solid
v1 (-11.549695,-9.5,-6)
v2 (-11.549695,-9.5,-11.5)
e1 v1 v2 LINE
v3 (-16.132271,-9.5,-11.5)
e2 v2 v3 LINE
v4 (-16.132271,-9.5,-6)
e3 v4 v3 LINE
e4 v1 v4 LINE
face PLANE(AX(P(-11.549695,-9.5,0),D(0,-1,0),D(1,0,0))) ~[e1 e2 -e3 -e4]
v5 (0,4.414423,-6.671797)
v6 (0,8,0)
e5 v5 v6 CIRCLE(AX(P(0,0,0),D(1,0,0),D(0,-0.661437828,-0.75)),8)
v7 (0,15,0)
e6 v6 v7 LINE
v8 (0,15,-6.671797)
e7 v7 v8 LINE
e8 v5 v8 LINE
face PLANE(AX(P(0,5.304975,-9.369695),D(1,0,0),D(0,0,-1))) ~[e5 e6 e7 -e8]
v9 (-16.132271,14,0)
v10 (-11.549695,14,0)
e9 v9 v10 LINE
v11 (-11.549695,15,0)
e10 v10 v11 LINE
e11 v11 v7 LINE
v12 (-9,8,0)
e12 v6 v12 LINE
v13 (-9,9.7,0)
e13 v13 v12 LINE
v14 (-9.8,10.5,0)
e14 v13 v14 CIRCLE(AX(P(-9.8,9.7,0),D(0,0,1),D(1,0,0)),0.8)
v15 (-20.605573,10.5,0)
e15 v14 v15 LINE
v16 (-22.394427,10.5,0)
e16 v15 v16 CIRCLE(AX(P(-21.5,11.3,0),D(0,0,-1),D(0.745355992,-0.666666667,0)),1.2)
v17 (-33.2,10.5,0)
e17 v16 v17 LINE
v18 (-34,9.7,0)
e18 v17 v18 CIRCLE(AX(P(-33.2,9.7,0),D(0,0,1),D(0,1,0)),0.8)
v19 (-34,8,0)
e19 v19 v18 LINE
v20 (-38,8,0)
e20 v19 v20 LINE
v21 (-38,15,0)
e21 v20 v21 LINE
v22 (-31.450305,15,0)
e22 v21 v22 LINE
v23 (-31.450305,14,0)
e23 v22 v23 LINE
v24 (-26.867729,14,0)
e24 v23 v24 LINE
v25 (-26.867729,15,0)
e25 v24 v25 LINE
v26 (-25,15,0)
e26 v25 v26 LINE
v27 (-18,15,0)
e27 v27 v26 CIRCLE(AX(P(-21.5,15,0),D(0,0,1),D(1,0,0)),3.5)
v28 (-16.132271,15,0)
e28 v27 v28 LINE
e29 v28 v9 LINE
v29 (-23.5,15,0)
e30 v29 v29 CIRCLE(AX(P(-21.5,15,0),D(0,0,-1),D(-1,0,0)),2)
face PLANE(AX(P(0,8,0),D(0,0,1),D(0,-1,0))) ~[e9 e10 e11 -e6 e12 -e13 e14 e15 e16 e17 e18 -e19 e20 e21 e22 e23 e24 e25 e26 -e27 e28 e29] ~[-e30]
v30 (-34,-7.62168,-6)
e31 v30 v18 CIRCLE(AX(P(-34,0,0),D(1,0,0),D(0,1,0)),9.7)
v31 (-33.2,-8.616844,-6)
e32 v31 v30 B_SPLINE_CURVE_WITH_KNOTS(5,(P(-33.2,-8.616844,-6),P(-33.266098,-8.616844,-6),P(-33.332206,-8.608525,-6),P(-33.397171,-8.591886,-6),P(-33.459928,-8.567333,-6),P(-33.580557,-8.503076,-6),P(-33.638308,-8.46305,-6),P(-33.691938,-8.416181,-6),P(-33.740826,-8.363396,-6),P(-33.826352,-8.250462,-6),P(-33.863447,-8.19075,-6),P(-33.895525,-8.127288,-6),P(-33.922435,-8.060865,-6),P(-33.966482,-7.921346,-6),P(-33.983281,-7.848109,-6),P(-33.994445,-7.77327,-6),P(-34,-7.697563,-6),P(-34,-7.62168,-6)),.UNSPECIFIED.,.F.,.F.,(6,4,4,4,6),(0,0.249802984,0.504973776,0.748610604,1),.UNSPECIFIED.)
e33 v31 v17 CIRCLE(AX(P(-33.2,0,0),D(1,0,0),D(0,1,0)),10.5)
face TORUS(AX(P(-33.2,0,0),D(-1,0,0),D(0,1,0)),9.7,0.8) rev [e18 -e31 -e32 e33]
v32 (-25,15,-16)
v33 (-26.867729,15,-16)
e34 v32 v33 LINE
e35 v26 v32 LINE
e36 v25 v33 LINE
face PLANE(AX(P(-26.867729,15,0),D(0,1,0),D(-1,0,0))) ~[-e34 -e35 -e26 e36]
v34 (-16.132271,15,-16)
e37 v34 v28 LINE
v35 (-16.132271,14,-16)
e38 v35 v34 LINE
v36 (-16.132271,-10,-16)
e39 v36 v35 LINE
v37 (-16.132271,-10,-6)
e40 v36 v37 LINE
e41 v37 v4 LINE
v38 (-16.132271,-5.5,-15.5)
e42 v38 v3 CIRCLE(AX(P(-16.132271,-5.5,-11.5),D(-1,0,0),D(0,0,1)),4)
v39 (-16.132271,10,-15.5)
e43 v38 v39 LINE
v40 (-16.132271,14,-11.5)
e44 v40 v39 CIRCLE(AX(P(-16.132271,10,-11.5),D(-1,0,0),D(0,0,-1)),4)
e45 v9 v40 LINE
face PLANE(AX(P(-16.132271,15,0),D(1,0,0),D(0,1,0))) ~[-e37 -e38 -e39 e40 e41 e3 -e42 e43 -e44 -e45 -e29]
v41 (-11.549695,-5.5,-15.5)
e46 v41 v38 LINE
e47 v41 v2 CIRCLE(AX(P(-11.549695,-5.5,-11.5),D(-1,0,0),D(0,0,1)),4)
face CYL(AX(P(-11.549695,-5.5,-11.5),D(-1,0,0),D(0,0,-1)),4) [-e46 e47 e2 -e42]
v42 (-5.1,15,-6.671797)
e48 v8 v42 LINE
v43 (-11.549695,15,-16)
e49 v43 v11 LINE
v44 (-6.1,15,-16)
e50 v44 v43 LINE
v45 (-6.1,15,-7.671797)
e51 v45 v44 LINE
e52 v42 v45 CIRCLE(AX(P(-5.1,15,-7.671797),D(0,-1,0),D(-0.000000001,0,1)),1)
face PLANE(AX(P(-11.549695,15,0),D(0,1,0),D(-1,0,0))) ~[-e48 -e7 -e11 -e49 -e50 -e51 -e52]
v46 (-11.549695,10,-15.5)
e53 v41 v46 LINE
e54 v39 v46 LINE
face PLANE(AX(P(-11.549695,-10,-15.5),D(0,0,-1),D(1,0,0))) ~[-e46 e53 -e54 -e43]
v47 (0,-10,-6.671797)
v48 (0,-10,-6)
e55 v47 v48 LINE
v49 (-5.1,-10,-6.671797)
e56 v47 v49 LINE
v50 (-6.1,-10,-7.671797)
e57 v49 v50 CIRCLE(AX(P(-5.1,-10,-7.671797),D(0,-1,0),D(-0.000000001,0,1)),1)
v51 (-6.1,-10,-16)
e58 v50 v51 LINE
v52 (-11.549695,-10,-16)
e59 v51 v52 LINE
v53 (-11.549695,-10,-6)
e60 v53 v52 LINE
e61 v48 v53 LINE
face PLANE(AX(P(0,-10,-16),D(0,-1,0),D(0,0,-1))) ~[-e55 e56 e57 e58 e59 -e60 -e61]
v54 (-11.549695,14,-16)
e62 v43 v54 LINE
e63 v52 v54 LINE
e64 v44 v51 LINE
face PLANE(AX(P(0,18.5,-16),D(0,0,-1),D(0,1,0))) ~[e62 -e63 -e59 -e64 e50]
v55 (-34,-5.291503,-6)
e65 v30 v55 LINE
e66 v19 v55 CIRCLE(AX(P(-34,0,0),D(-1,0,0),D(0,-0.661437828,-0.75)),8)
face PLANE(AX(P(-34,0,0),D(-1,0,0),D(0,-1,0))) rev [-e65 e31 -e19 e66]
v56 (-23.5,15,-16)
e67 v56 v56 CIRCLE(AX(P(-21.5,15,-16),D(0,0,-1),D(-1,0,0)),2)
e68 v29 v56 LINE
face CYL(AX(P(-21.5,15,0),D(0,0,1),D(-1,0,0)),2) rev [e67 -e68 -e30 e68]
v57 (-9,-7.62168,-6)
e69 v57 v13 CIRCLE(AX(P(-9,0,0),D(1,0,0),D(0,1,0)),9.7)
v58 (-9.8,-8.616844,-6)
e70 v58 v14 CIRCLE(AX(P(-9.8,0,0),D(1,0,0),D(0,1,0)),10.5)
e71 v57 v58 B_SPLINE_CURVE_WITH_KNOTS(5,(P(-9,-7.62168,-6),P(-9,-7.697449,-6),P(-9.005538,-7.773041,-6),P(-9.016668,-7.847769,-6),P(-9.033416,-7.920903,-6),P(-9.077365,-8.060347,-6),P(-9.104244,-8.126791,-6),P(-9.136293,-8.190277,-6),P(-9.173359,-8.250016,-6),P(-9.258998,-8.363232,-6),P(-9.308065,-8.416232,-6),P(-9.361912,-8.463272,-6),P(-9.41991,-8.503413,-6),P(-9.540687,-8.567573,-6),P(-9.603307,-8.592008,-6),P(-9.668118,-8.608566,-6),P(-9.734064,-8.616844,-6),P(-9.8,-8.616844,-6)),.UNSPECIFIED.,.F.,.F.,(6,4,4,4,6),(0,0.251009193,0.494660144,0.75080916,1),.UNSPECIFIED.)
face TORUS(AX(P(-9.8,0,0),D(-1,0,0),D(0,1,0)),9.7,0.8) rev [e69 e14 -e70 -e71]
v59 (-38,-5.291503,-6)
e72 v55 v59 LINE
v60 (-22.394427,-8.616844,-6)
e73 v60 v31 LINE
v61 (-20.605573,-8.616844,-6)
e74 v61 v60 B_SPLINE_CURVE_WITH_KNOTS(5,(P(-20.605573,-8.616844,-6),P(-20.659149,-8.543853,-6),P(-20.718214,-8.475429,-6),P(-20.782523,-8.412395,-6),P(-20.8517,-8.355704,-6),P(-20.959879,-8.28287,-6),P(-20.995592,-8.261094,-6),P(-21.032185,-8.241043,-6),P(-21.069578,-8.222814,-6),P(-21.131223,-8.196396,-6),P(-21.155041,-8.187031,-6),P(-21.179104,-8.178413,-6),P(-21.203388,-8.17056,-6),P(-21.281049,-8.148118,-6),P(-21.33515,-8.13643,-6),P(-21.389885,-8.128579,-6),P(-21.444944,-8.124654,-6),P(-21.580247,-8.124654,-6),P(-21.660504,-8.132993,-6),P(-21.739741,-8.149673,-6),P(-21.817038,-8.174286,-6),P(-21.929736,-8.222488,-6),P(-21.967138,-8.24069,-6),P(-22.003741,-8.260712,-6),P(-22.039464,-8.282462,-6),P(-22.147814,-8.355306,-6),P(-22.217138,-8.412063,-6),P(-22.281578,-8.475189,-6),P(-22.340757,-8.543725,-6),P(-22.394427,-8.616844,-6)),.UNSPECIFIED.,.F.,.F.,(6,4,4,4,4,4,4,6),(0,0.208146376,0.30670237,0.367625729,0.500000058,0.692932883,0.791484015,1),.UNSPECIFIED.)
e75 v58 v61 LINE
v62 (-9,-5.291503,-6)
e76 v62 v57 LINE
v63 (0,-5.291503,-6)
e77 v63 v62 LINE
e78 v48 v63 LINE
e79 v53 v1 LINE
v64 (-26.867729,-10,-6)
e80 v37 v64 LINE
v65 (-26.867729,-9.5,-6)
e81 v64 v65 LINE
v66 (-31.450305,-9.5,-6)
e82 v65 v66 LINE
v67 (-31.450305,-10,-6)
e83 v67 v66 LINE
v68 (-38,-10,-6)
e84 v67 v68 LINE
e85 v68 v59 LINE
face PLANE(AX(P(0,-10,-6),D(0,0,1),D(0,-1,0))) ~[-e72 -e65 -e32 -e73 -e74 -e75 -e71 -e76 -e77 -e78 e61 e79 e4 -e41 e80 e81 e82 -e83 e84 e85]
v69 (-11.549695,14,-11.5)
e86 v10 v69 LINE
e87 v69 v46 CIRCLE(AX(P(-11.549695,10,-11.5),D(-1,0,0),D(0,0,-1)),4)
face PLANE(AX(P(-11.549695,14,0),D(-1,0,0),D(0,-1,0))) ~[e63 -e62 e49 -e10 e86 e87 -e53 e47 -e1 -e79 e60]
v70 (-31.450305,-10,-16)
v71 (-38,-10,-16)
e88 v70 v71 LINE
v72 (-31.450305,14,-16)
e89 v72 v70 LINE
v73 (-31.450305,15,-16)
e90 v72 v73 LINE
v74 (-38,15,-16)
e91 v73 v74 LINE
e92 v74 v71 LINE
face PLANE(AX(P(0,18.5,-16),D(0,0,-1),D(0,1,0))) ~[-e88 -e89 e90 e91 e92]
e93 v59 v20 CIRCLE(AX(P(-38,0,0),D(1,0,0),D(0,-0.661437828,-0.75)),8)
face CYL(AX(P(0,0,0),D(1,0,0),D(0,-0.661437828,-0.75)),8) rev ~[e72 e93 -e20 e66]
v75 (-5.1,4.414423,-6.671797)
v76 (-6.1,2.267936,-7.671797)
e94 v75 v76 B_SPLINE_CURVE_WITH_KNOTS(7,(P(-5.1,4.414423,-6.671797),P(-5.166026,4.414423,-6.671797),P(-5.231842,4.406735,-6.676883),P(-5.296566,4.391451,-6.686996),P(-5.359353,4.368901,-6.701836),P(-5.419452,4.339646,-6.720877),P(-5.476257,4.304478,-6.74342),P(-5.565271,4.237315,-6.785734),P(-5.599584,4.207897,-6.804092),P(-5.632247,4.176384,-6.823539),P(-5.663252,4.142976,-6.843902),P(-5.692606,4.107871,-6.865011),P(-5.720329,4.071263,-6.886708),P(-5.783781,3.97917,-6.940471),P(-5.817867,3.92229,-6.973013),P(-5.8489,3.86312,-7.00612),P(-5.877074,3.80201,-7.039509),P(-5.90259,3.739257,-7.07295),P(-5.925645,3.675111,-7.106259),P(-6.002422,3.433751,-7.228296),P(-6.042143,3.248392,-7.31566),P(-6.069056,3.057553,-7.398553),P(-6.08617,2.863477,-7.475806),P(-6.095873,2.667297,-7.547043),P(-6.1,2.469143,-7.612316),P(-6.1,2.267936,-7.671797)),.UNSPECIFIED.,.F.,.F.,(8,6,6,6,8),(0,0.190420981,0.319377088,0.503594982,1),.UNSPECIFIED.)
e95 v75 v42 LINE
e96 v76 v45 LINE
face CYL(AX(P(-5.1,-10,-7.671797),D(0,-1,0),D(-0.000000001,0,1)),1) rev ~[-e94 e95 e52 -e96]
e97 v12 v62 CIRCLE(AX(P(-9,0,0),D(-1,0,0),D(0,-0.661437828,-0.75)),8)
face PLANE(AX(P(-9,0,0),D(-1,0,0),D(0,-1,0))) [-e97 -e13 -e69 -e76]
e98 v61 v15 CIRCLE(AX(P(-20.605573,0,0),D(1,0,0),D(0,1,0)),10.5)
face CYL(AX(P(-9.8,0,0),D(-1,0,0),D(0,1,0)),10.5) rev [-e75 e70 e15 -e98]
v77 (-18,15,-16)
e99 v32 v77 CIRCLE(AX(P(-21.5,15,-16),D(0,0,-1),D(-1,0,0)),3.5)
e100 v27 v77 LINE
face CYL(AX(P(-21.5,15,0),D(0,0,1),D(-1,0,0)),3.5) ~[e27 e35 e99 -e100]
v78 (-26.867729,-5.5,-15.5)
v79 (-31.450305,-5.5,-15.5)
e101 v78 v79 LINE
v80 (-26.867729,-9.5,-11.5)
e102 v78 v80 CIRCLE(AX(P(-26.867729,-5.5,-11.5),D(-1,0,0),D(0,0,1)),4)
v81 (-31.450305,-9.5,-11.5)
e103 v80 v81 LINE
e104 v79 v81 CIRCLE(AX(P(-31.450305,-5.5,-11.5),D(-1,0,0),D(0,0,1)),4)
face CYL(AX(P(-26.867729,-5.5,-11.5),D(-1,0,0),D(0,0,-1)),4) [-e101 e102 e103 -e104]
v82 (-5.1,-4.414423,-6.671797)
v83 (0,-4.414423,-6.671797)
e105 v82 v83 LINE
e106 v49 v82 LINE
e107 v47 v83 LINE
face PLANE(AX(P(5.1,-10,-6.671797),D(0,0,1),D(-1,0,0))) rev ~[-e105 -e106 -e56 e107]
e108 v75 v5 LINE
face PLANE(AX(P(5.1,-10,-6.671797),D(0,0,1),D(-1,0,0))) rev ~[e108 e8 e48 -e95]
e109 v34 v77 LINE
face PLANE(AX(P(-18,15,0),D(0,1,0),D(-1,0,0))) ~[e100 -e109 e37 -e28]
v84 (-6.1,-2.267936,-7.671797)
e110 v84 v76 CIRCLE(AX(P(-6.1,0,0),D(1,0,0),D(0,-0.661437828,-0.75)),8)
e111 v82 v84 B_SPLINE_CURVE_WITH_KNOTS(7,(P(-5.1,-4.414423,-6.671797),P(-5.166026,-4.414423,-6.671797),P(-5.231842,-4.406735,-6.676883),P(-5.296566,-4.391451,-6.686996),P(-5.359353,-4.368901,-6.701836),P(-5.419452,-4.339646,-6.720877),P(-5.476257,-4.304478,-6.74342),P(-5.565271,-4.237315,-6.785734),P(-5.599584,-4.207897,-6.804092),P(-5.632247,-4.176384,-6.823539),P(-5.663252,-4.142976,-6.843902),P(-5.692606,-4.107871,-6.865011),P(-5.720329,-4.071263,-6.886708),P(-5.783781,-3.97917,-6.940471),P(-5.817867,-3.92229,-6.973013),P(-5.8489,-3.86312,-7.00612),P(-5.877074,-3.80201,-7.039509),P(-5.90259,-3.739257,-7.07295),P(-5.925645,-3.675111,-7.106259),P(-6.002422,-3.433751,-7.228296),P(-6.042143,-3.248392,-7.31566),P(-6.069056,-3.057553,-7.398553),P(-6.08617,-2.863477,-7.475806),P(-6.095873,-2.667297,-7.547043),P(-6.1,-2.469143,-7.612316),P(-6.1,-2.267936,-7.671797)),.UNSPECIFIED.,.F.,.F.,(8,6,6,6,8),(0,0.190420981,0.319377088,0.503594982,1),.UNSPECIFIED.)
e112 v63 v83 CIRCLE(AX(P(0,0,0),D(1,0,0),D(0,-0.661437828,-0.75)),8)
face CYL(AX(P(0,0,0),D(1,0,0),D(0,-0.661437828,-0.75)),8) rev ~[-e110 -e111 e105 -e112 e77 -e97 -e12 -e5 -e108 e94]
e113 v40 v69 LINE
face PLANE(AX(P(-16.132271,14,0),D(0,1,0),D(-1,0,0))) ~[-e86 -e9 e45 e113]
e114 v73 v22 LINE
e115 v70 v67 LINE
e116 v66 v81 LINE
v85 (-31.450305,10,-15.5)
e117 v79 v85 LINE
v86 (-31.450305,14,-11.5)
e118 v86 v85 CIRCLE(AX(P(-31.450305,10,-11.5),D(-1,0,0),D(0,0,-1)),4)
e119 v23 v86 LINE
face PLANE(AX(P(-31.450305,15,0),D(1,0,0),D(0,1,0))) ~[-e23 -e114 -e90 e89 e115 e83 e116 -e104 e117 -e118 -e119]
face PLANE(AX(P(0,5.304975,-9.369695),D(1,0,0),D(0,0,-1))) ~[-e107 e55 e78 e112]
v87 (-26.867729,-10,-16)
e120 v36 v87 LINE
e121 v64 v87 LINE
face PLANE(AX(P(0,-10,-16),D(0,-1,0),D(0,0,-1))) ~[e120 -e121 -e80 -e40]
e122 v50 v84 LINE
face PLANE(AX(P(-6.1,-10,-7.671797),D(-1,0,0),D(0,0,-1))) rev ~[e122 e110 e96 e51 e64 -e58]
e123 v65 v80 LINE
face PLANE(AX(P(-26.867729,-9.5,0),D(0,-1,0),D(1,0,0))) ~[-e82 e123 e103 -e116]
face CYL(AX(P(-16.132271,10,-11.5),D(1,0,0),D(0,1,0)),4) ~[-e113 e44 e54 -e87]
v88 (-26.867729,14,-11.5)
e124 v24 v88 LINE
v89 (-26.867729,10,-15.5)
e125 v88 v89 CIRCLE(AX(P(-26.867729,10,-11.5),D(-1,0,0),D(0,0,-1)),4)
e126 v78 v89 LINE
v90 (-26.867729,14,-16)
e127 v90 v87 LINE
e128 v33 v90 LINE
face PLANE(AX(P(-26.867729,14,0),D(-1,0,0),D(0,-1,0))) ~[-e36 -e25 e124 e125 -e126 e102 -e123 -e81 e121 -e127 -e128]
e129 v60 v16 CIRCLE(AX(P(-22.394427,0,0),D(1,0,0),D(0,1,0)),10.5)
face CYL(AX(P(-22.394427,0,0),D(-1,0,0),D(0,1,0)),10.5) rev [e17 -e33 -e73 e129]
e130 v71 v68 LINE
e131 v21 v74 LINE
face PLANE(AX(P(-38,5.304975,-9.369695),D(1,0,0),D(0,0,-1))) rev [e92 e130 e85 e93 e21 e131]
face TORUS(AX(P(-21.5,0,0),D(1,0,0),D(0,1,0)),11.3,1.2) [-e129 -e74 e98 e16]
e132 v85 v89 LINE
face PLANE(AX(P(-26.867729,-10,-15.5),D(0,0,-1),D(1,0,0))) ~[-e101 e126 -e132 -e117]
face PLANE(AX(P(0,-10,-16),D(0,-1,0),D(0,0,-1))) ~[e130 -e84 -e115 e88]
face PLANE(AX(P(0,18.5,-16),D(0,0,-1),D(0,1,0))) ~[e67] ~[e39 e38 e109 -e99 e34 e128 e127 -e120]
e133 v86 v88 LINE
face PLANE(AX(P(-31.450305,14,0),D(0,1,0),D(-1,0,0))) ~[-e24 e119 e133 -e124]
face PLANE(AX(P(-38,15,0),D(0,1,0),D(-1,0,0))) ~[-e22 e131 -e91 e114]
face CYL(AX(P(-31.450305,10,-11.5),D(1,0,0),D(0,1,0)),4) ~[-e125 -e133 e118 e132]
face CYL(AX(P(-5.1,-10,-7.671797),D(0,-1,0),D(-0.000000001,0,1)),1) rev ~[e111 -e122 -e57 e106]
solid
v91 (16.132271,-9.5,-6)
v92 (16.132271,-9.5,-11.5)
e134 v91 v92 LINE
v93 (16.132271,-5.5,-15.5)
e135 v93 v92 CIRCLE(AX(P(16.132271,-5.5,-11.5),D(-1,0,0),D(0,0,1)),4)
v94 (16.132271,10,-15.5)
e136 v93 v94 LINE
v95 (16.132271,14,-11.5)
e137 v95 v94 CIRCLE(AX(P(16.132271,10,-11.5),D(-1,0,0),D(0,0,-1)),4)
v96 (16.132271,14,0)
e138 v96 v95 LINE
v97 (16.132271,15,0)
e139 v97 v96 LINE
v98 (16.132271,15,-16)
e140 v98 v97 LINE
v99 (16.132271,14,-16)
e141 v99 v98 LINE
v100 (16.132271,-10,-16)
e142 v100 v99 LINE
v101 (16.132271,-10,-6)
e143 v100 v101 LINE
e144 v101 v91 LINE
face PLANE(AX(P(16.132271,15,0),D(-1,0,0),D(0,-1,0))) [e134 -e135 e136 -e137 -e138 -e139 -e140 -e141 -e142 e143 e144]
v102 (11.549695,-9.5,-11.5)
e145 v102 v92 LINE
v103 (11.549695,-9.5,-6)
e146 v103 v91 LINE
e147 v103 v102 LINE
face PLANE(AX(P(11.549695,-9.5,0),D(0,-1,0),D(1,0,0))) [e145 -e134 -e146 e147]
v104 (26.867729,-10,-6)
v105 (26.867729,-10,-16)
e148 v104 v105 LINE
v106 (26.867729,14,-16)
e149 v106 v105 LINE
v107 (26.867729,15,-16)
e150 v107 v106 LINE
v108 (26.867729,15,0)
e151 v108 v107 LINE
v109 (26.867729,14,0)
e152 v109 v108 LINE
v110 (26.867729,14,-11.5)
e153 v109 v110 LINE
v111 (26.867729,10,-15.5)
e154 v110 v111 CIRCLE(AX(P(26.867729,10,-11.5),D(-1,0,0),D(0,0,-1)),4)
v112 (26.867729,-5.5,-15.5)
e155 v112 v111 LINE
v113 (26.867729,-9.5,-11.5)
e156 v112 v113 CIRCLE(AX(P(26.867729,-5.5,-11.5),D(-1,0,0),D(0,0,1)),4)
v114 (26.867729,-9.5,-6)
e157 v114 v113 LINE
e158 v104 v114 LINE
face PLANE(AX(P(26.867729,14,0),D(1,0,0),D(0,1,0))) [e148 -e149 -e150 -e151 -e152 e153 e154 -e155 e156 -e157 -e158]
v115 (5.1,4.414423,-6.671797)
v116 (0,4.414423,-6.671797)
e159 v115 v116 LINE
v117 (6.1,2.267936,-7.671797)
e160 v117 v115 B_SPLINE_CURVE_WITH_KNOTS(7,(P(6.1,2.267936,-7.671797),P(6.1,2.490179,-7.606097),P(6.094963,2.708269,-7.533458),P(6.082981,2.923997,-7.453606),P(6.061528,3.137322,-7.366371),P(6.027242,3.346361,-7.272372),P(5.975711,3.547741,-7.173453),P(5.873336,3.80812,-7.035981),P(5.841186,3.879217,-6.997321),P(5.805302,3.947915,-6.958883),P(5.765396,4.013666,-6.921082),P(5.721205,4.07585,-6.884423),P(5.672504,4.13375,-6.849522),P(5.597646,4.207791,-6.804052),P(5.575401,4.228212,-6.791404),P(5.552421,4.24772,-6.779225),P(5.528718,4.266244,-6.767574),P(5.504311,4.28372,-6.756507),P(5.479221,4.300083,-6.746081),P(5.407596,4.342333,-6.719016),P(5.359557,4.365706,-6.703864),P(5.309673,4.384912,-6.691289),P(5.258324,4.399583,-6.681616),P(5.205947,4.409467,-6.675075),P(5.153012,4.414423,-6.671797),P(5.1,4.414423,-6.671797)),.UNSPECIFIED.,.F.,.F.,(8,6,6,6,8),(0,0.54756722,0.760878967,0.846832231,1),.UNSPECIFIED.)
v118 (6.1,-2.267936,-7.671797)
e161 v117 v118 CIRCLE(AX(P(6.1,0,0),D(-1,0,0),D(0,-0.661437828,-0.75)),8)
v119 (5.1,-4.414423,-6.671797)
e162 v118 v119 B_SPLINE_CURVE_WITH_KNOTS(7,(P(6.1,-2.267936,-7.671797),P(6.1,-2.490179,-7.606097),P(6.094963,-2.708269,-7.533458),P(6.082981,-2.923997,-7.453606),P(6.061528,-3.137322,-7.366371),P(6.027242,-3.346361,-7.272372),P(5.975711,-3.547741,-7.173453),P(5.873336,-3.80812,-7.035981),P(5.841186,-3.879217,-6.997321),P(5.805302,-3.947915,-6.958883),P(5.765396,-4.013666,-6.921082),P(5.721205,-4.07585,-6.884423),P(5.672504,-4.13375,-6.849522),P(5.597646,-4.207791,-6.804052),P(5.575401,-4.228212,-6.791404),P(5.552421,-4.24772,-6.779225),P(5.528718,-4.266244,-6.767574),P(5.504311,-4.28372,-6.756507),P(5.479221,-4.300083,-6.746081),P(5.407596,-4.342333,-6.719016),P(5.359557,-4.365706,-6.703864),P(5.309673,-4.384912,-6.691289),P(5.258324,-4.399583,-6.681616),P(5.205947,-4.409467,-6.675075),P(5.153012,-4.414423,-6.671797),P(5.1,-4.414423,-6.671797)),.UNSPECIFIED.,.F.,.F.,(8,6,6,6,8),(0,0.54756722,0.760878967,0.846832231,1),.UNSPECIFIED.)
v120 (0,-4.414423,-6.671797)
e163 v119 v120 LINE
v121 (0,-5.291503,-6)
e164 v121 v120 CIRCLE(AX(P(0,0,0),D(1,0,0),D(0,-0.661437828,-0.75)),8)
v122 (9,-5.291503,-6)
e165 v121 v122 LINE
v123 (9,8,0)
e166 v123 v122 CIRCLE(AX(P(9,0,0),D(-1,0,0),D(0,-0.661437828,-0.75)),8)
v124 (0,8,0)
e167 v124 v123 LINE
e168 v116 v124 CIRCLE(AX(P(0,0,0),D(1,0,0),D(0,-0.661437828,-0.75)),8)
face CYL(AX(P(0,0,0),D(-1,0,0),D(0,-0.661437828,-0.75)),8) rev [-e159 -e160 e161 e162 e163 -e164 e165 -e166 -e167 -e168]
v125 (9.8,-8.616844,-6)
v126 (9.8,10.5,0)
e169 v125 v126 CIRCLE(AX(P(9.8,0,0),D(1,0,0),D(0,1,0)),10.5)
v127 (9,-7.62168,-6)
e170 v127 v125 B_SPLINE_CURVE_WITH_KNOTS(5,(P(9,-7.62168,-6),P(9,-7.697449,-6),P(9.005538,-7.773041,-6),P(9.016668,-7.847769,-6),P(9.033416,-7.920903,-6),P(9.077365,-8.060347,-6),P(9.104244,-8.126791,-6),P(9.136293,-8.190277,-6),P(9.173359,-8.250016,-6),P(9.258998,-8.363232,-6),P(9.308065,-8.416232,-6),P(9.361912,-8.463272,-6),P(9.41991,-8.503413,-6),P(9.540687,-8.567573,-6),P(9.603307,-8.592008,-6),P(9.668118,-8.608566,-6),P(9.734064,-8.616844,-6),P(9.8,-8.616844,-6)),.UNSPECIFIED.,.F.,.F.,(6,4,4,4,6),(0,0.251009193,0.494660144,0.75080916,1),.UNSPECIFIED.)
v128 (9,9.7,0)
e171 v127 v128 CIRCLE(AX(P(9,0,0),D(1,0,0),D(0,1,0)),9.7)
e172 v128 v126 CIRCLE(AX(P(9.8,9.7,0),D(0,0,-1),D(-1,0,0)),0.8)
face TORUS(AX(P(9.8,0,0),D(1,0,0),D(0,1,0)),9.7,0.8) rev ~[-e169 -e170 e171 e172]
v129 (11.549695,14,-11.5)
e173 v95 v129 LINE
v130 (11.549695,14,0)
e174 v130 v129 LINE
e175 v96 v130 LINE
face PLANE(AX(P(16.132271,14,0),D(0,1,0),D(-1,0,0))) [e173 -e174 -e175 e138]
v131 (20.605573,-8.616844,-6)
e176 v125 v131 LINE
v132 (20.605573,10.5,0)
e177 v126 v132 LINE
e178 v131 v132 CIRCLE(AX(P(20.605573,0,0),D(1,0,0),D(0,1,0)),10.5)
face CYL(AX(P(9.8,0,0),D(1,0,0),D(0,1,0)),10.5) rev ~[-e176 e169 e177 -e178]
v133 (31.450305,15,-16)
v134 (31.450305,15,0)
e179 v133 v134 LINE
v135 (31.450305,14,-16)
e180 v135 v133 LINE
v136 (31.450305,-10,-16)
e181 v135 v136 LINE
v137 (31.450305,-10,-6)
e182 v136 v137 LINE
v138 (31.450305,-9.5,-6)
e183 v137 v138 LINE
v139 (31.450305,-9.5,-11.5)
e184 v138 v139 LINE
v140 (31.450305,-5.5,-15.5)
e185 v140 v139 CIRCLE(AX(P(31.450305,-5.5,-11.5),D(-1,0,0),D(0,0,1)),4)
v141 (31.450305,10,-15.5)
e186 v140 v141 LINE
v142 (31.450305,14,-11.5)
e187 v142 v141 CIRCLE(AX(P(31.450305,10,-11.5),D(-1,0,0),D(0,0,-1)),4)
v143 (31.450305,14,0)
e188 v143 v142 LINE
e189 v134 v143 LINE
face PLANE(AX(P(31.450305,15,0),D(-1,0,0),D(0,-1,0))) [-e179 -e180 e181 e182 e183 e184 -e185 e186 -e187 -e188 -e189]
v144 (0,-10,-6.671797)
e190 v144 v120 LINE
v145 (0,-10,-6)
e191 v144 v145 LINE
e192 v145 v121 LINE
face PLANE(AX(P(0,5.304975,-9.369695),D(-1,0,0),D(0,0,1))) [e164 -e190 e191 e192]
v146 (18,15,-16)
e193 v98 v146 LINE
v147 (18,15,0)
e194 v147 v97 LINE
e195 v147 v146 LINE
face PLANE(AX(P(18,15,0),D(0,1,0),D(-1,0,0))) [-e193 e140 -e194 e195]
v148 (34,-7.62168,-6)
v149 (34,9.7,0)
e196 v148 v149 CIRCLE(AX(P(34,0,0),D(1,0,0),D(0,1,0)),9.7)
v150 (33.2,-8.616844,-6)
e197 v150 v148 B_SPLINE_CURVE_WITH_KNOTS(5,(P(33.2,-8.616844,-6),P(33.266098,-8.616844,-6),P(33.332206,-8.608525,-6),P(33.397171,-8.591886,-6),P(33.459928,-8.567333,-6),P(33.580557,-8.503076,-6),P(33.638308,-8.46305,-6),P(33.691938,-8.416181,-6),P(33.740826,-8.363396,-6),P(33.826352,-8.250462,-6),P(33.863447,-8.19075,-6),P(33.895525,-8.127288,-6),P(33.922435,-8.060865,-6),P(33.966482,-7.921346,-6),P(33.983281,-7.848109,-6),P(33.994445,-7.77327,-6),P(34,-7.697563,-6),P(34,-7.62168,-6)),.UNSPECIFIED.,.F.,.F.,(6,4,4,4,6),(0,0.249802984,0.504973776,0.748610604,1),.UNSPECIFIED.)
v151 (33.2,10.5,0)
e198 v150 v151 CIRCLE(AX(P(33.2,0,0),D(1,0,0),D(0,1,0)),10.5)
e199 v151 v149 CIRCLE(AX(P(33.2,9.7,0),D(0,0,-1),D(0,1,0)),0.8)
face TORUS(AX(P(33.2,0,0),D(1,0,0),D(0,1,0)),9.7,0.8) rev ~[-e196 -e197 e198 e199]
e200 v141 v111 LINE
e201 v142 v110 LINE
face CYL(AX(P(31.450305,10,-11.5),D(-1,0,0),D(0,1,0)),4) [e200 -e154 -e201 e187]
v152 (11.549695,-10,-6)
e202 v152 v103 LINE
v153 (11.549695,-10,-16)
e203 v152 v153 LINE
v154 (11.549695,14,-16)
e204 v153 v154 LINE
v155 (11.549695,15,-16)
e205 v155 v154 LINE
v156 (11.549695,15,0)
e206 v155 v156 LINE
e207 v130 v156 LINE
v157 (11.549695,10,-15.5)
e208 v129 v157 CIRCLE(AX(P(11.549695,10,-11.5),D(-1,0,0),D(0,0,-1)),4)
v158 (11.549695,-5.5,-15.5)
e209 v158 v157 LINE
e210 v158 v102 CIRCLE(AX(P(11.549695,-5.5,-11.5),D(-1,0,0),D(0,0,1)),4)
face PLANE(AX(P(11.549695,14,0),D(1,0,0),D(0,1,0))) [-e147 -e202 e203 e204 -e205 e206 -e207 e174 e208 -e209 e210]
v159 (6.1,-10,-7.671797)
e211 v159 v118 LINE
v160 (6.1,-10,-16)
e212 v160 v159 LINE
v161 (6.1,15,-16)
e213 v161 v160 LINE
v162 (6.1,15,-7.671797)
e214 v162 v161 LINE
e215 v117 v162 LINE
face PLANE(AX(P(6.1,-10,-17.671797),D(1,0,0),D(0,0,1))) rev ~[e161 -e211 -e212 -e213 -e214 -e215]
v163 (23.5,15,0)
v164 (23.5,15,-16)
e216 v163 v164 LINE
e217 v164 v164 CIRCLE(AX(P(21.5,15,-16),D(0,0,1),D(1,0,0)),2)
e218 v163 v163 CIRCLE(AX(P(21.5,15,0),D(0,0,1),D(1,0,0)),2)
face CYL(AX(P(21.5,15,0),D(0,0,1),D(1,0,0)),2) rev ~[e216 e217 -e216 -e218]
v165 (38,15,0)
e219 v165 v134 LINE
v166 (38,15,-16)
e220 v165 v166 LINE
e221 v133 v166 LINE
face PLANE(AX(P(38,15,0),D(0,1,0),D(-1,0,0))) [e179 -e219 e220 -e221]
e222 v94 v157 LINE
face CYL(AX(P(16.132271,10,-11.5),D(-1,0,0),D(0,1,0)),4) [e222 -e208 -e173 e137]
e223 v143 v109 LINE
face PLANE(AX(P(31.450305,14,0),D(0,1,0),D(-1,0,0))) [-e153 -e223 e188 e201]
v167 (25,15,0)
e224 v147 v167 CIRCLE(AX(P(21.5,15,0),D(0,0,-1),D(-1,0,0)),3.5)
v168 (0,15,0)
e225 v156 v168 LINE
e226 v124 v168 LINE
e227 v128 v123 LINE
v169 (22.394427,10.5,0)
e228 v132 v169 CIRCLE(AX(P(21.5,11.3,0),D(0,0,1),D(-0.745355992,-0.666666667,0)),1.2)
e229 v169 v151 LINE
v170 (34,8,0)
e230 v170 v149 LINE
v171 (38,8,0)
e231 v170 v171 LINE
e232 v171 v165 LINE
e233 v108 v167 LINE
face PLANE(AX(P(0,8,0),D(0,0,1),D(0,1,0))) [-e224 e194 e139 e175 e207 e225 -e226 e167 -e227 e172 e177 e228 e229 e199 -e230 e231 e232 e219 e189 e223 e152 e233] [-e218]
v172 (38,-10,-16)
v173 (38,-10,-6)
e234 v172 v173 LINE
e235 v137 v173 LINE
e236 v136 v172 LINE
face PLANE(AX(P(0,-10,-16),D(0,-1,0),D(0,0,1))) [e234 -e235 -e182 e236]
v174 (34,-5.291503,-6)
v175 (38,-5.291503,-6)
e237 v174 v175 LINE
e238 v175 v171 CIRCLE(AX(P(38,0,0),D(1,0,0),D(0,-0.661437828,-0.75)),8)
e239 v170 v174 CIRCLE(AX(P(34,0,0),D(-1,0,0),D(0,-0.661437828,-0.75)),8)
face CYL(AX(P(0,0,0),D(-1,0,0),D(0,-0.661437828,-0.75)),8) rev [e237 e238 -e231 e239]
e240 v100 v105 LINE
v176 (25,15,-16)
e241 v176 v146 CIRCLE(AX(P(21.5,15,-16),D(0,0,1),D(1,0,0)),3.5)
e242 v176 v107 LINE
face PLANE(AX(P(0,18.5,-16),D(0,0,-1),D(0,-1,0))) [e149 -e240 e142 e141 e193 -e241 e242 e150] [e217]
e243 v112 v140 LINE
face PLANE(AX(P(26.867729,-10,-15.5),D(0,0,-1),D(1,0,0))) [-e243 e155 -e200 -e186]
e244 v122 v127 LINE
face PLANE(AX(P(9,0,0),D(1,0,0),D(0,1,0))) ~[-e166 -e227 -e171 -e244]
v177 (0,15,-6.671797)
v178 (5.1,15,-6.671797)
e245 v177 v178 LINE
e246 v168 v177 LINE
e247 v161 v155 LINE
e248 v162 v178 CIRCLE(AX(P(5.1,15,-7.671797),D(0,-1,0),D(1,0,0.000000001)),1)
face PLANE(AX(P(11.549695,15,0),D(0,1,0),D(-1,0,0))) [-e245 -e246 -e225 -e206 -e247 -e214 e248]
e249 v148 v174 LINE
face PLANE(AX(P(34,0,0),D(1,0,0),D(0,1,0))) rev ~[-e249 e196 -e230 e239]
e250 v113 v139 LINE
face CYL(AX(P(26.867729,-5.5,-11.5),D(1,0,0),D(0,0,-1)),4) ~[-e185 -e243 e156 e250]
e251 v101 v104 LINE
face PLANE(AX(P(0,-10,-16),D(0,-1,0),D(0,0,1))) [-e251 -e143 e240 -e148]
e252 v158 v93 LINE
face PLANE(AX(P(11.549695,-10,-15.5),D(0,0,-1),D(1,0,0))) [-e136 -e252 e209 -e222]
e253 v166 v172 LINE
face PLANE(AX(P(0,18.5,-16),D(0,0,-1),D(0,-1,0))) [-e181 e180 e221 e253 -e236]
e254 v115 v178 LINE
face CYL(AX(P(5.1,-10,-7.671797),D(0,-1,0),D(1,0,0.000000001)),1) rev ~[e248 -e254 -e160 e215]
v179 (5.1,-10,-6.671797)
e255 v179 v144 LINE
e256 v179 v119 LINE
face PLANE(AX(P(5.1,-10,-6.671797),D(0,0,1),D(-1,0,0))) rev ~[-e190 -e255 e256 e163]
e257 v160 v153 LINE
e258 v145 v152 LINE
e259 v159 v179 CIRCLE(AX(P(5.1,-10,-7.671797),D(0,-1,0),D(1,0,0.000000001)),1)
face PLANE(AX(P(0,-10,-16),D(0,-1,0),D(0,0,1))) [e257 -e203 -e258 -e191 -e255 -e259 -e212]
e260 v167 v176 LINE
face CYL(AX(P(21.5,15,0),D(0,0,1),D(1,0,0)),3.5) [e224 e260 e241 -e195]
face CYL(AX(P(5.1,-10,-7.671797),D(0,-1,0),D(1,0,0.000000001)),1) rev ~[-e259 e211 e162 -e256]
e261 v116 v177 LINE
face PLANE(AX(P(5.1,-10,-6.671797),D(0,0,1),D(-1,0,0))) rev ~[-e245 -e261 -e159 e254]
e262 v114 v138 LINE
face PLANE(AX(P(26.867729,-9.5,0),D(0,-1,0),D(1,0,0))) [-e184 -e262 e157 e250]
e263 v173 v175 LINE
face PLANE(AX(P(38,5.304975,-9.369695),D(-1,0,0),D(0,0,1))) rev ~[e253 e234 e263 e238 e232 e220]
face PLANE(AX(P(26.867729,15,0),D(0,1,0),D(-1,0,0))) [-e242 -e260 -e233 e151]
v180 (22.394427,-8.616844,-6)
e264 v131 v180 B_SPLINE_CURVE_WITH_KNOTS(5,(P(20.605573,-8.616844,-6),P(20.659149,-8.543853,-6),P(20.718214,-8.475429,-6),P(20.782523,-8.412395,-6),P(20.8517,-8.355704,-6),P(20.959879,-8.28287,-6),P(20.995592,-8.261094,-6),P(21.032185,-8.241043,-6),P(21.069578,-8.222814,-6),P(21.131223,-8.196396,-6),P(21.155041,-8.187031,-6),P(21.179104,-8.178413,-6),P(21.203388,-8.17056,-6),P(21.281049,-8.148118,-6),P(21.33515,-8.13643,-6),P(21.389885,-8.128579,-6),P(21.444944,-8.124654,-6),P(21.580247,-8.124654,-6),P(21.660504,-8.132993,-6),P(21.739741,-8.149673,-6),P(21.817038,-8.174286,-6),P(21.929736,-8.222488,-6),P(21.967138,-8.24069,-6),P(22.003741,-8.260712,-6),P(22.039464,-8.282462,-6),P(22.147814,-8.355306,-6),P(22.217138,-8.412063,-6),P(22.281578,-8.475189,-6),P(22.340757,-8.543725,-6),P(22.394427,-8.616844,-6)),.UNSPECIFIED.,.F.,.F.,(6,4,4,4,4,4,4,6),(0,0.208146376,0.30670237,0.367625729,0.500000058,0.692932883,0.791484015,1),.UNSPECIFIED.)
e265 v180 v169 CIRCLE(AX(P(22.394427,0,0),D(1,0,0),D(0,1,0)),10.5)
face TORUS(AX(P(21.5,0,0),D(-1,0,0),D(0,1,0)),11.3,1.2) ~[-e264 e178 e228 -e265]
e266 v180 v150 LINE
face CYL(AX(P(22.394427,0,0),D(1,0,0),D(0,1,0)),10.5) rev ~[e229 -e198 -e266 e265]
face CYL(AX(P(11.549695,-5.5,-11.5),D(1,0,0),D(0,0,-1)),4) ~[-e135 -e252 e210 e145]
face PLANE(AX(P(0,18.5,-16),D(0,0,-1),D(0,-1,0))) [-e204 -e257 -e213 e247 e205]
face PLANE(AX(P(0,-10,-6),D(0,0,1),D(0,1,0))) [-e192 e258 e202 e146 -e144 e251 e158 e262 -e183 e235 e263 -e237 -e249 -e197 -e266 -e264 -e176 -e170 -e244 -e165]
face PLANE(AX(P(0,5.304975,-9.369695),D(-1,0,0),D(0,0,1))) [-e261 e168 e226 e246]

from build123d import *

# Parameters (mm, degrees)
BOSS_EXTRUDE1_DEPTH = 38
SKETCH4_R           = 2
CUT_EXTRUDE1_DEPTH  = 38
SKETCH11_W          = 4.582575695
SKETCH11_H          = 1
CUT_EXTRUDE2_DEPTH  = 30
SKETCH13_W          = 4.582575695
SKETCH13_H          = 1
CUT_EXTRUDE3_DEPTH  = 30
FILLET1_R           = 4
CUT_EXTRUDE4_DEPTH  = 40


with BuildPart() as part:
    # Sketch5 → Boss-Extrude1 (new body)
    with BuildSketch(Plane(origin=(0, 0, 0), x_dir=(0, 0, -1), z_dir=(1, 0, 0))):
        with BuildLine():
            Line((0, 18.5), (16, 18.5))
            Line((16, 18.5), (16, -10))
            Line((16, -10), (6, -10))
            Line((6, -10), (6, -5.291502622))
            ThreePointArc((6, -5.291502622), (7.291502622, 3.291502622), (0, 8))
            Line((0, 8), (0, 18.5))
        make_face()
    extrude(amount=BOSS_EXTRUDE1_DEPTH)

    # Sketch2 → Cut-Revolve1 (revolve, cut)
    with BuildSketch(Plane.XY):
        with BuildLine():
            Line((22.394427191, 10.5), (33.2, 10.5))
            ThreePointArc((33.2, 10.5), (33.765685425, 10.265685425), (34, 9.7))
            Line((34, 9.7), (34, 0))
            Line((34, 0), (9, 0))
            Line((9, 0), (9, 9.7))
            ThreePointArc((9, 9.7), (9.234314575, 10.265685425), (9.8, 10.5))
            Line((9.8, 10.5), (20.605572809, 10.5))
            ThreePointArc((20.605572809, 10.5), (21.5, 10.1), (22.394427191, 10.5))
        make_face()
    revolve(axis=Axis((0, 0, 0), (1, 0, 0)), mode=Mode.SUBTRACT)

    # Sketch4 → Cut-Extrude1 (cut)
    with BuildSketch(Plane.XY):
        with Locations((21.5, 15)):
            Circle(SKETCH4_R)
        with BuildLine():
            Line((11.549695158, 15), (0, 15))
            Line((0, 15), (0, 25))
            Line((0, 25), (38, 25))
            Line((38, 25), (38, 15))
            Line((38, 15), (31.450304842, 15))
            Line((31.450304842, 15), (31.450304842, 14))
            Line((31.450304842, 14), (26.867729147, 14))
            Line((26.867729147, 14), (26.867729147, 15))
            Line((26.867729147, 15), (25, 15))
            ThreePointArc((25, 15), (21.5, 18.5), (18, 15))
            Line((18, 15), (16.132270853, 15))
            Line((16.132270853, 15), (16.132270853, 14))
            Line((16.132270853, 14), (11.549695158, 14))
            Line((11.549695158, 14), (11.549695158, 15))
        make_face()
    extrude(amount=-CUT_EXTRUDE1_DEPTH, mode=Mode.SUBTRACT)

    # Sketch11 → Cut-Extrude2 (cut)
    with BuildSketch(Plane.XY):
        with Locations((29.159016994, -10)):
            Rectangle(SKETCH11_W, SKETCH11_H)
        with Locations((13.840983006, -10)):
            Rectangle(SKETCH11_W, SKETCH11_H)
    extrude(amount=-CUT_EXTRUDE2_DEPTH, mode=Mode.SUBTRACT)

    # Sketch13 → Cut-Extrude3 (cut)
    with BuildSketch(Plane.XZ.offset(10)):
        with Locations((29.159016994, -16)):
            Rectangle(SKETCH13_W, SKETCH13_H)
        with Locations((13.840983006, -16)):
            Rectangle(SKETCH13_W, SKETCH13_H)
    extrude(amount=-CUT_EXTRUDE3_DEPTH, mode=Mode.SUBTRACT)

    # Fillet1
    fillet1_edges = [part.edges().sort_by_distance(p)[0] for p in [
        (29.159016994, -9.5, -15.5),
        (29.159016994, 14, -15.5),
        (13.840983006, 14, -15.5),
        (13.840983006, -9.5, -15.5),
    ]]
    fillet(fillet1_edges, radius=FILLET1_R)


with BuildPart() as body_2:
    # Mirror1: mirrored copy
    add(part.part.mirror(Plane(origin=(0, 0, 0), x_dir=(0, 0, 1), z_dir=(1, 0, 0))))


with BuildPart() as cut_extrude4_tool:
    # Sketch14 → Cut-Extrude4 (new body)
    with BuildSketch(Plane.XZ.offset(10)):
        with BuildLine():
            Line((6.1, -17.67179677), (6.1, -7.67179677))
            ThreePointArc((6.1, -7.67179677), (5.807106781, -6.964689989), (5.1, -6.67179677))
            Line((5.1, -6.67179677), (-5.1, -6.67179677))
            ThreePointArc((-5.1, -6.67179677), (-5.807106781, -6.964689989), (-6.1, -7.67179677))
            Line((-6.1, -7.67179677), (-6.1, -17.67179677))
            ThreePointArc((-6.1, -17.67179677), (-5.807106781, -18.378903551), (-5.1, -18.67179677))
            Line((-5.1, -18.67179677), (5.1, -18.67179677))
            ThreePointArc((5.1, -18.67179677), (5.807106781, -18.378903551), (6.1, -17.67179677))
        make_face()
    extrude(amount=-CUT_EXTRUDE4_DEPTH)


with BuildPart() as part_1:
    add(part.part)

    # Cut-Extrude4: cut by cut_extrude4_tool
    add(cut_extrude4_tool.part, mode=Mode.SUBTRACT)


with BuildPart() as body_2_1:
    add(body_2.part)

    # Cut-Extrude4: cut by cut_extrude4_tool
    add(cut_extrude4_tool.part, mode=Mode.SUBTRACT)


solid = Compound([part_1.part, body_2_1.part])
